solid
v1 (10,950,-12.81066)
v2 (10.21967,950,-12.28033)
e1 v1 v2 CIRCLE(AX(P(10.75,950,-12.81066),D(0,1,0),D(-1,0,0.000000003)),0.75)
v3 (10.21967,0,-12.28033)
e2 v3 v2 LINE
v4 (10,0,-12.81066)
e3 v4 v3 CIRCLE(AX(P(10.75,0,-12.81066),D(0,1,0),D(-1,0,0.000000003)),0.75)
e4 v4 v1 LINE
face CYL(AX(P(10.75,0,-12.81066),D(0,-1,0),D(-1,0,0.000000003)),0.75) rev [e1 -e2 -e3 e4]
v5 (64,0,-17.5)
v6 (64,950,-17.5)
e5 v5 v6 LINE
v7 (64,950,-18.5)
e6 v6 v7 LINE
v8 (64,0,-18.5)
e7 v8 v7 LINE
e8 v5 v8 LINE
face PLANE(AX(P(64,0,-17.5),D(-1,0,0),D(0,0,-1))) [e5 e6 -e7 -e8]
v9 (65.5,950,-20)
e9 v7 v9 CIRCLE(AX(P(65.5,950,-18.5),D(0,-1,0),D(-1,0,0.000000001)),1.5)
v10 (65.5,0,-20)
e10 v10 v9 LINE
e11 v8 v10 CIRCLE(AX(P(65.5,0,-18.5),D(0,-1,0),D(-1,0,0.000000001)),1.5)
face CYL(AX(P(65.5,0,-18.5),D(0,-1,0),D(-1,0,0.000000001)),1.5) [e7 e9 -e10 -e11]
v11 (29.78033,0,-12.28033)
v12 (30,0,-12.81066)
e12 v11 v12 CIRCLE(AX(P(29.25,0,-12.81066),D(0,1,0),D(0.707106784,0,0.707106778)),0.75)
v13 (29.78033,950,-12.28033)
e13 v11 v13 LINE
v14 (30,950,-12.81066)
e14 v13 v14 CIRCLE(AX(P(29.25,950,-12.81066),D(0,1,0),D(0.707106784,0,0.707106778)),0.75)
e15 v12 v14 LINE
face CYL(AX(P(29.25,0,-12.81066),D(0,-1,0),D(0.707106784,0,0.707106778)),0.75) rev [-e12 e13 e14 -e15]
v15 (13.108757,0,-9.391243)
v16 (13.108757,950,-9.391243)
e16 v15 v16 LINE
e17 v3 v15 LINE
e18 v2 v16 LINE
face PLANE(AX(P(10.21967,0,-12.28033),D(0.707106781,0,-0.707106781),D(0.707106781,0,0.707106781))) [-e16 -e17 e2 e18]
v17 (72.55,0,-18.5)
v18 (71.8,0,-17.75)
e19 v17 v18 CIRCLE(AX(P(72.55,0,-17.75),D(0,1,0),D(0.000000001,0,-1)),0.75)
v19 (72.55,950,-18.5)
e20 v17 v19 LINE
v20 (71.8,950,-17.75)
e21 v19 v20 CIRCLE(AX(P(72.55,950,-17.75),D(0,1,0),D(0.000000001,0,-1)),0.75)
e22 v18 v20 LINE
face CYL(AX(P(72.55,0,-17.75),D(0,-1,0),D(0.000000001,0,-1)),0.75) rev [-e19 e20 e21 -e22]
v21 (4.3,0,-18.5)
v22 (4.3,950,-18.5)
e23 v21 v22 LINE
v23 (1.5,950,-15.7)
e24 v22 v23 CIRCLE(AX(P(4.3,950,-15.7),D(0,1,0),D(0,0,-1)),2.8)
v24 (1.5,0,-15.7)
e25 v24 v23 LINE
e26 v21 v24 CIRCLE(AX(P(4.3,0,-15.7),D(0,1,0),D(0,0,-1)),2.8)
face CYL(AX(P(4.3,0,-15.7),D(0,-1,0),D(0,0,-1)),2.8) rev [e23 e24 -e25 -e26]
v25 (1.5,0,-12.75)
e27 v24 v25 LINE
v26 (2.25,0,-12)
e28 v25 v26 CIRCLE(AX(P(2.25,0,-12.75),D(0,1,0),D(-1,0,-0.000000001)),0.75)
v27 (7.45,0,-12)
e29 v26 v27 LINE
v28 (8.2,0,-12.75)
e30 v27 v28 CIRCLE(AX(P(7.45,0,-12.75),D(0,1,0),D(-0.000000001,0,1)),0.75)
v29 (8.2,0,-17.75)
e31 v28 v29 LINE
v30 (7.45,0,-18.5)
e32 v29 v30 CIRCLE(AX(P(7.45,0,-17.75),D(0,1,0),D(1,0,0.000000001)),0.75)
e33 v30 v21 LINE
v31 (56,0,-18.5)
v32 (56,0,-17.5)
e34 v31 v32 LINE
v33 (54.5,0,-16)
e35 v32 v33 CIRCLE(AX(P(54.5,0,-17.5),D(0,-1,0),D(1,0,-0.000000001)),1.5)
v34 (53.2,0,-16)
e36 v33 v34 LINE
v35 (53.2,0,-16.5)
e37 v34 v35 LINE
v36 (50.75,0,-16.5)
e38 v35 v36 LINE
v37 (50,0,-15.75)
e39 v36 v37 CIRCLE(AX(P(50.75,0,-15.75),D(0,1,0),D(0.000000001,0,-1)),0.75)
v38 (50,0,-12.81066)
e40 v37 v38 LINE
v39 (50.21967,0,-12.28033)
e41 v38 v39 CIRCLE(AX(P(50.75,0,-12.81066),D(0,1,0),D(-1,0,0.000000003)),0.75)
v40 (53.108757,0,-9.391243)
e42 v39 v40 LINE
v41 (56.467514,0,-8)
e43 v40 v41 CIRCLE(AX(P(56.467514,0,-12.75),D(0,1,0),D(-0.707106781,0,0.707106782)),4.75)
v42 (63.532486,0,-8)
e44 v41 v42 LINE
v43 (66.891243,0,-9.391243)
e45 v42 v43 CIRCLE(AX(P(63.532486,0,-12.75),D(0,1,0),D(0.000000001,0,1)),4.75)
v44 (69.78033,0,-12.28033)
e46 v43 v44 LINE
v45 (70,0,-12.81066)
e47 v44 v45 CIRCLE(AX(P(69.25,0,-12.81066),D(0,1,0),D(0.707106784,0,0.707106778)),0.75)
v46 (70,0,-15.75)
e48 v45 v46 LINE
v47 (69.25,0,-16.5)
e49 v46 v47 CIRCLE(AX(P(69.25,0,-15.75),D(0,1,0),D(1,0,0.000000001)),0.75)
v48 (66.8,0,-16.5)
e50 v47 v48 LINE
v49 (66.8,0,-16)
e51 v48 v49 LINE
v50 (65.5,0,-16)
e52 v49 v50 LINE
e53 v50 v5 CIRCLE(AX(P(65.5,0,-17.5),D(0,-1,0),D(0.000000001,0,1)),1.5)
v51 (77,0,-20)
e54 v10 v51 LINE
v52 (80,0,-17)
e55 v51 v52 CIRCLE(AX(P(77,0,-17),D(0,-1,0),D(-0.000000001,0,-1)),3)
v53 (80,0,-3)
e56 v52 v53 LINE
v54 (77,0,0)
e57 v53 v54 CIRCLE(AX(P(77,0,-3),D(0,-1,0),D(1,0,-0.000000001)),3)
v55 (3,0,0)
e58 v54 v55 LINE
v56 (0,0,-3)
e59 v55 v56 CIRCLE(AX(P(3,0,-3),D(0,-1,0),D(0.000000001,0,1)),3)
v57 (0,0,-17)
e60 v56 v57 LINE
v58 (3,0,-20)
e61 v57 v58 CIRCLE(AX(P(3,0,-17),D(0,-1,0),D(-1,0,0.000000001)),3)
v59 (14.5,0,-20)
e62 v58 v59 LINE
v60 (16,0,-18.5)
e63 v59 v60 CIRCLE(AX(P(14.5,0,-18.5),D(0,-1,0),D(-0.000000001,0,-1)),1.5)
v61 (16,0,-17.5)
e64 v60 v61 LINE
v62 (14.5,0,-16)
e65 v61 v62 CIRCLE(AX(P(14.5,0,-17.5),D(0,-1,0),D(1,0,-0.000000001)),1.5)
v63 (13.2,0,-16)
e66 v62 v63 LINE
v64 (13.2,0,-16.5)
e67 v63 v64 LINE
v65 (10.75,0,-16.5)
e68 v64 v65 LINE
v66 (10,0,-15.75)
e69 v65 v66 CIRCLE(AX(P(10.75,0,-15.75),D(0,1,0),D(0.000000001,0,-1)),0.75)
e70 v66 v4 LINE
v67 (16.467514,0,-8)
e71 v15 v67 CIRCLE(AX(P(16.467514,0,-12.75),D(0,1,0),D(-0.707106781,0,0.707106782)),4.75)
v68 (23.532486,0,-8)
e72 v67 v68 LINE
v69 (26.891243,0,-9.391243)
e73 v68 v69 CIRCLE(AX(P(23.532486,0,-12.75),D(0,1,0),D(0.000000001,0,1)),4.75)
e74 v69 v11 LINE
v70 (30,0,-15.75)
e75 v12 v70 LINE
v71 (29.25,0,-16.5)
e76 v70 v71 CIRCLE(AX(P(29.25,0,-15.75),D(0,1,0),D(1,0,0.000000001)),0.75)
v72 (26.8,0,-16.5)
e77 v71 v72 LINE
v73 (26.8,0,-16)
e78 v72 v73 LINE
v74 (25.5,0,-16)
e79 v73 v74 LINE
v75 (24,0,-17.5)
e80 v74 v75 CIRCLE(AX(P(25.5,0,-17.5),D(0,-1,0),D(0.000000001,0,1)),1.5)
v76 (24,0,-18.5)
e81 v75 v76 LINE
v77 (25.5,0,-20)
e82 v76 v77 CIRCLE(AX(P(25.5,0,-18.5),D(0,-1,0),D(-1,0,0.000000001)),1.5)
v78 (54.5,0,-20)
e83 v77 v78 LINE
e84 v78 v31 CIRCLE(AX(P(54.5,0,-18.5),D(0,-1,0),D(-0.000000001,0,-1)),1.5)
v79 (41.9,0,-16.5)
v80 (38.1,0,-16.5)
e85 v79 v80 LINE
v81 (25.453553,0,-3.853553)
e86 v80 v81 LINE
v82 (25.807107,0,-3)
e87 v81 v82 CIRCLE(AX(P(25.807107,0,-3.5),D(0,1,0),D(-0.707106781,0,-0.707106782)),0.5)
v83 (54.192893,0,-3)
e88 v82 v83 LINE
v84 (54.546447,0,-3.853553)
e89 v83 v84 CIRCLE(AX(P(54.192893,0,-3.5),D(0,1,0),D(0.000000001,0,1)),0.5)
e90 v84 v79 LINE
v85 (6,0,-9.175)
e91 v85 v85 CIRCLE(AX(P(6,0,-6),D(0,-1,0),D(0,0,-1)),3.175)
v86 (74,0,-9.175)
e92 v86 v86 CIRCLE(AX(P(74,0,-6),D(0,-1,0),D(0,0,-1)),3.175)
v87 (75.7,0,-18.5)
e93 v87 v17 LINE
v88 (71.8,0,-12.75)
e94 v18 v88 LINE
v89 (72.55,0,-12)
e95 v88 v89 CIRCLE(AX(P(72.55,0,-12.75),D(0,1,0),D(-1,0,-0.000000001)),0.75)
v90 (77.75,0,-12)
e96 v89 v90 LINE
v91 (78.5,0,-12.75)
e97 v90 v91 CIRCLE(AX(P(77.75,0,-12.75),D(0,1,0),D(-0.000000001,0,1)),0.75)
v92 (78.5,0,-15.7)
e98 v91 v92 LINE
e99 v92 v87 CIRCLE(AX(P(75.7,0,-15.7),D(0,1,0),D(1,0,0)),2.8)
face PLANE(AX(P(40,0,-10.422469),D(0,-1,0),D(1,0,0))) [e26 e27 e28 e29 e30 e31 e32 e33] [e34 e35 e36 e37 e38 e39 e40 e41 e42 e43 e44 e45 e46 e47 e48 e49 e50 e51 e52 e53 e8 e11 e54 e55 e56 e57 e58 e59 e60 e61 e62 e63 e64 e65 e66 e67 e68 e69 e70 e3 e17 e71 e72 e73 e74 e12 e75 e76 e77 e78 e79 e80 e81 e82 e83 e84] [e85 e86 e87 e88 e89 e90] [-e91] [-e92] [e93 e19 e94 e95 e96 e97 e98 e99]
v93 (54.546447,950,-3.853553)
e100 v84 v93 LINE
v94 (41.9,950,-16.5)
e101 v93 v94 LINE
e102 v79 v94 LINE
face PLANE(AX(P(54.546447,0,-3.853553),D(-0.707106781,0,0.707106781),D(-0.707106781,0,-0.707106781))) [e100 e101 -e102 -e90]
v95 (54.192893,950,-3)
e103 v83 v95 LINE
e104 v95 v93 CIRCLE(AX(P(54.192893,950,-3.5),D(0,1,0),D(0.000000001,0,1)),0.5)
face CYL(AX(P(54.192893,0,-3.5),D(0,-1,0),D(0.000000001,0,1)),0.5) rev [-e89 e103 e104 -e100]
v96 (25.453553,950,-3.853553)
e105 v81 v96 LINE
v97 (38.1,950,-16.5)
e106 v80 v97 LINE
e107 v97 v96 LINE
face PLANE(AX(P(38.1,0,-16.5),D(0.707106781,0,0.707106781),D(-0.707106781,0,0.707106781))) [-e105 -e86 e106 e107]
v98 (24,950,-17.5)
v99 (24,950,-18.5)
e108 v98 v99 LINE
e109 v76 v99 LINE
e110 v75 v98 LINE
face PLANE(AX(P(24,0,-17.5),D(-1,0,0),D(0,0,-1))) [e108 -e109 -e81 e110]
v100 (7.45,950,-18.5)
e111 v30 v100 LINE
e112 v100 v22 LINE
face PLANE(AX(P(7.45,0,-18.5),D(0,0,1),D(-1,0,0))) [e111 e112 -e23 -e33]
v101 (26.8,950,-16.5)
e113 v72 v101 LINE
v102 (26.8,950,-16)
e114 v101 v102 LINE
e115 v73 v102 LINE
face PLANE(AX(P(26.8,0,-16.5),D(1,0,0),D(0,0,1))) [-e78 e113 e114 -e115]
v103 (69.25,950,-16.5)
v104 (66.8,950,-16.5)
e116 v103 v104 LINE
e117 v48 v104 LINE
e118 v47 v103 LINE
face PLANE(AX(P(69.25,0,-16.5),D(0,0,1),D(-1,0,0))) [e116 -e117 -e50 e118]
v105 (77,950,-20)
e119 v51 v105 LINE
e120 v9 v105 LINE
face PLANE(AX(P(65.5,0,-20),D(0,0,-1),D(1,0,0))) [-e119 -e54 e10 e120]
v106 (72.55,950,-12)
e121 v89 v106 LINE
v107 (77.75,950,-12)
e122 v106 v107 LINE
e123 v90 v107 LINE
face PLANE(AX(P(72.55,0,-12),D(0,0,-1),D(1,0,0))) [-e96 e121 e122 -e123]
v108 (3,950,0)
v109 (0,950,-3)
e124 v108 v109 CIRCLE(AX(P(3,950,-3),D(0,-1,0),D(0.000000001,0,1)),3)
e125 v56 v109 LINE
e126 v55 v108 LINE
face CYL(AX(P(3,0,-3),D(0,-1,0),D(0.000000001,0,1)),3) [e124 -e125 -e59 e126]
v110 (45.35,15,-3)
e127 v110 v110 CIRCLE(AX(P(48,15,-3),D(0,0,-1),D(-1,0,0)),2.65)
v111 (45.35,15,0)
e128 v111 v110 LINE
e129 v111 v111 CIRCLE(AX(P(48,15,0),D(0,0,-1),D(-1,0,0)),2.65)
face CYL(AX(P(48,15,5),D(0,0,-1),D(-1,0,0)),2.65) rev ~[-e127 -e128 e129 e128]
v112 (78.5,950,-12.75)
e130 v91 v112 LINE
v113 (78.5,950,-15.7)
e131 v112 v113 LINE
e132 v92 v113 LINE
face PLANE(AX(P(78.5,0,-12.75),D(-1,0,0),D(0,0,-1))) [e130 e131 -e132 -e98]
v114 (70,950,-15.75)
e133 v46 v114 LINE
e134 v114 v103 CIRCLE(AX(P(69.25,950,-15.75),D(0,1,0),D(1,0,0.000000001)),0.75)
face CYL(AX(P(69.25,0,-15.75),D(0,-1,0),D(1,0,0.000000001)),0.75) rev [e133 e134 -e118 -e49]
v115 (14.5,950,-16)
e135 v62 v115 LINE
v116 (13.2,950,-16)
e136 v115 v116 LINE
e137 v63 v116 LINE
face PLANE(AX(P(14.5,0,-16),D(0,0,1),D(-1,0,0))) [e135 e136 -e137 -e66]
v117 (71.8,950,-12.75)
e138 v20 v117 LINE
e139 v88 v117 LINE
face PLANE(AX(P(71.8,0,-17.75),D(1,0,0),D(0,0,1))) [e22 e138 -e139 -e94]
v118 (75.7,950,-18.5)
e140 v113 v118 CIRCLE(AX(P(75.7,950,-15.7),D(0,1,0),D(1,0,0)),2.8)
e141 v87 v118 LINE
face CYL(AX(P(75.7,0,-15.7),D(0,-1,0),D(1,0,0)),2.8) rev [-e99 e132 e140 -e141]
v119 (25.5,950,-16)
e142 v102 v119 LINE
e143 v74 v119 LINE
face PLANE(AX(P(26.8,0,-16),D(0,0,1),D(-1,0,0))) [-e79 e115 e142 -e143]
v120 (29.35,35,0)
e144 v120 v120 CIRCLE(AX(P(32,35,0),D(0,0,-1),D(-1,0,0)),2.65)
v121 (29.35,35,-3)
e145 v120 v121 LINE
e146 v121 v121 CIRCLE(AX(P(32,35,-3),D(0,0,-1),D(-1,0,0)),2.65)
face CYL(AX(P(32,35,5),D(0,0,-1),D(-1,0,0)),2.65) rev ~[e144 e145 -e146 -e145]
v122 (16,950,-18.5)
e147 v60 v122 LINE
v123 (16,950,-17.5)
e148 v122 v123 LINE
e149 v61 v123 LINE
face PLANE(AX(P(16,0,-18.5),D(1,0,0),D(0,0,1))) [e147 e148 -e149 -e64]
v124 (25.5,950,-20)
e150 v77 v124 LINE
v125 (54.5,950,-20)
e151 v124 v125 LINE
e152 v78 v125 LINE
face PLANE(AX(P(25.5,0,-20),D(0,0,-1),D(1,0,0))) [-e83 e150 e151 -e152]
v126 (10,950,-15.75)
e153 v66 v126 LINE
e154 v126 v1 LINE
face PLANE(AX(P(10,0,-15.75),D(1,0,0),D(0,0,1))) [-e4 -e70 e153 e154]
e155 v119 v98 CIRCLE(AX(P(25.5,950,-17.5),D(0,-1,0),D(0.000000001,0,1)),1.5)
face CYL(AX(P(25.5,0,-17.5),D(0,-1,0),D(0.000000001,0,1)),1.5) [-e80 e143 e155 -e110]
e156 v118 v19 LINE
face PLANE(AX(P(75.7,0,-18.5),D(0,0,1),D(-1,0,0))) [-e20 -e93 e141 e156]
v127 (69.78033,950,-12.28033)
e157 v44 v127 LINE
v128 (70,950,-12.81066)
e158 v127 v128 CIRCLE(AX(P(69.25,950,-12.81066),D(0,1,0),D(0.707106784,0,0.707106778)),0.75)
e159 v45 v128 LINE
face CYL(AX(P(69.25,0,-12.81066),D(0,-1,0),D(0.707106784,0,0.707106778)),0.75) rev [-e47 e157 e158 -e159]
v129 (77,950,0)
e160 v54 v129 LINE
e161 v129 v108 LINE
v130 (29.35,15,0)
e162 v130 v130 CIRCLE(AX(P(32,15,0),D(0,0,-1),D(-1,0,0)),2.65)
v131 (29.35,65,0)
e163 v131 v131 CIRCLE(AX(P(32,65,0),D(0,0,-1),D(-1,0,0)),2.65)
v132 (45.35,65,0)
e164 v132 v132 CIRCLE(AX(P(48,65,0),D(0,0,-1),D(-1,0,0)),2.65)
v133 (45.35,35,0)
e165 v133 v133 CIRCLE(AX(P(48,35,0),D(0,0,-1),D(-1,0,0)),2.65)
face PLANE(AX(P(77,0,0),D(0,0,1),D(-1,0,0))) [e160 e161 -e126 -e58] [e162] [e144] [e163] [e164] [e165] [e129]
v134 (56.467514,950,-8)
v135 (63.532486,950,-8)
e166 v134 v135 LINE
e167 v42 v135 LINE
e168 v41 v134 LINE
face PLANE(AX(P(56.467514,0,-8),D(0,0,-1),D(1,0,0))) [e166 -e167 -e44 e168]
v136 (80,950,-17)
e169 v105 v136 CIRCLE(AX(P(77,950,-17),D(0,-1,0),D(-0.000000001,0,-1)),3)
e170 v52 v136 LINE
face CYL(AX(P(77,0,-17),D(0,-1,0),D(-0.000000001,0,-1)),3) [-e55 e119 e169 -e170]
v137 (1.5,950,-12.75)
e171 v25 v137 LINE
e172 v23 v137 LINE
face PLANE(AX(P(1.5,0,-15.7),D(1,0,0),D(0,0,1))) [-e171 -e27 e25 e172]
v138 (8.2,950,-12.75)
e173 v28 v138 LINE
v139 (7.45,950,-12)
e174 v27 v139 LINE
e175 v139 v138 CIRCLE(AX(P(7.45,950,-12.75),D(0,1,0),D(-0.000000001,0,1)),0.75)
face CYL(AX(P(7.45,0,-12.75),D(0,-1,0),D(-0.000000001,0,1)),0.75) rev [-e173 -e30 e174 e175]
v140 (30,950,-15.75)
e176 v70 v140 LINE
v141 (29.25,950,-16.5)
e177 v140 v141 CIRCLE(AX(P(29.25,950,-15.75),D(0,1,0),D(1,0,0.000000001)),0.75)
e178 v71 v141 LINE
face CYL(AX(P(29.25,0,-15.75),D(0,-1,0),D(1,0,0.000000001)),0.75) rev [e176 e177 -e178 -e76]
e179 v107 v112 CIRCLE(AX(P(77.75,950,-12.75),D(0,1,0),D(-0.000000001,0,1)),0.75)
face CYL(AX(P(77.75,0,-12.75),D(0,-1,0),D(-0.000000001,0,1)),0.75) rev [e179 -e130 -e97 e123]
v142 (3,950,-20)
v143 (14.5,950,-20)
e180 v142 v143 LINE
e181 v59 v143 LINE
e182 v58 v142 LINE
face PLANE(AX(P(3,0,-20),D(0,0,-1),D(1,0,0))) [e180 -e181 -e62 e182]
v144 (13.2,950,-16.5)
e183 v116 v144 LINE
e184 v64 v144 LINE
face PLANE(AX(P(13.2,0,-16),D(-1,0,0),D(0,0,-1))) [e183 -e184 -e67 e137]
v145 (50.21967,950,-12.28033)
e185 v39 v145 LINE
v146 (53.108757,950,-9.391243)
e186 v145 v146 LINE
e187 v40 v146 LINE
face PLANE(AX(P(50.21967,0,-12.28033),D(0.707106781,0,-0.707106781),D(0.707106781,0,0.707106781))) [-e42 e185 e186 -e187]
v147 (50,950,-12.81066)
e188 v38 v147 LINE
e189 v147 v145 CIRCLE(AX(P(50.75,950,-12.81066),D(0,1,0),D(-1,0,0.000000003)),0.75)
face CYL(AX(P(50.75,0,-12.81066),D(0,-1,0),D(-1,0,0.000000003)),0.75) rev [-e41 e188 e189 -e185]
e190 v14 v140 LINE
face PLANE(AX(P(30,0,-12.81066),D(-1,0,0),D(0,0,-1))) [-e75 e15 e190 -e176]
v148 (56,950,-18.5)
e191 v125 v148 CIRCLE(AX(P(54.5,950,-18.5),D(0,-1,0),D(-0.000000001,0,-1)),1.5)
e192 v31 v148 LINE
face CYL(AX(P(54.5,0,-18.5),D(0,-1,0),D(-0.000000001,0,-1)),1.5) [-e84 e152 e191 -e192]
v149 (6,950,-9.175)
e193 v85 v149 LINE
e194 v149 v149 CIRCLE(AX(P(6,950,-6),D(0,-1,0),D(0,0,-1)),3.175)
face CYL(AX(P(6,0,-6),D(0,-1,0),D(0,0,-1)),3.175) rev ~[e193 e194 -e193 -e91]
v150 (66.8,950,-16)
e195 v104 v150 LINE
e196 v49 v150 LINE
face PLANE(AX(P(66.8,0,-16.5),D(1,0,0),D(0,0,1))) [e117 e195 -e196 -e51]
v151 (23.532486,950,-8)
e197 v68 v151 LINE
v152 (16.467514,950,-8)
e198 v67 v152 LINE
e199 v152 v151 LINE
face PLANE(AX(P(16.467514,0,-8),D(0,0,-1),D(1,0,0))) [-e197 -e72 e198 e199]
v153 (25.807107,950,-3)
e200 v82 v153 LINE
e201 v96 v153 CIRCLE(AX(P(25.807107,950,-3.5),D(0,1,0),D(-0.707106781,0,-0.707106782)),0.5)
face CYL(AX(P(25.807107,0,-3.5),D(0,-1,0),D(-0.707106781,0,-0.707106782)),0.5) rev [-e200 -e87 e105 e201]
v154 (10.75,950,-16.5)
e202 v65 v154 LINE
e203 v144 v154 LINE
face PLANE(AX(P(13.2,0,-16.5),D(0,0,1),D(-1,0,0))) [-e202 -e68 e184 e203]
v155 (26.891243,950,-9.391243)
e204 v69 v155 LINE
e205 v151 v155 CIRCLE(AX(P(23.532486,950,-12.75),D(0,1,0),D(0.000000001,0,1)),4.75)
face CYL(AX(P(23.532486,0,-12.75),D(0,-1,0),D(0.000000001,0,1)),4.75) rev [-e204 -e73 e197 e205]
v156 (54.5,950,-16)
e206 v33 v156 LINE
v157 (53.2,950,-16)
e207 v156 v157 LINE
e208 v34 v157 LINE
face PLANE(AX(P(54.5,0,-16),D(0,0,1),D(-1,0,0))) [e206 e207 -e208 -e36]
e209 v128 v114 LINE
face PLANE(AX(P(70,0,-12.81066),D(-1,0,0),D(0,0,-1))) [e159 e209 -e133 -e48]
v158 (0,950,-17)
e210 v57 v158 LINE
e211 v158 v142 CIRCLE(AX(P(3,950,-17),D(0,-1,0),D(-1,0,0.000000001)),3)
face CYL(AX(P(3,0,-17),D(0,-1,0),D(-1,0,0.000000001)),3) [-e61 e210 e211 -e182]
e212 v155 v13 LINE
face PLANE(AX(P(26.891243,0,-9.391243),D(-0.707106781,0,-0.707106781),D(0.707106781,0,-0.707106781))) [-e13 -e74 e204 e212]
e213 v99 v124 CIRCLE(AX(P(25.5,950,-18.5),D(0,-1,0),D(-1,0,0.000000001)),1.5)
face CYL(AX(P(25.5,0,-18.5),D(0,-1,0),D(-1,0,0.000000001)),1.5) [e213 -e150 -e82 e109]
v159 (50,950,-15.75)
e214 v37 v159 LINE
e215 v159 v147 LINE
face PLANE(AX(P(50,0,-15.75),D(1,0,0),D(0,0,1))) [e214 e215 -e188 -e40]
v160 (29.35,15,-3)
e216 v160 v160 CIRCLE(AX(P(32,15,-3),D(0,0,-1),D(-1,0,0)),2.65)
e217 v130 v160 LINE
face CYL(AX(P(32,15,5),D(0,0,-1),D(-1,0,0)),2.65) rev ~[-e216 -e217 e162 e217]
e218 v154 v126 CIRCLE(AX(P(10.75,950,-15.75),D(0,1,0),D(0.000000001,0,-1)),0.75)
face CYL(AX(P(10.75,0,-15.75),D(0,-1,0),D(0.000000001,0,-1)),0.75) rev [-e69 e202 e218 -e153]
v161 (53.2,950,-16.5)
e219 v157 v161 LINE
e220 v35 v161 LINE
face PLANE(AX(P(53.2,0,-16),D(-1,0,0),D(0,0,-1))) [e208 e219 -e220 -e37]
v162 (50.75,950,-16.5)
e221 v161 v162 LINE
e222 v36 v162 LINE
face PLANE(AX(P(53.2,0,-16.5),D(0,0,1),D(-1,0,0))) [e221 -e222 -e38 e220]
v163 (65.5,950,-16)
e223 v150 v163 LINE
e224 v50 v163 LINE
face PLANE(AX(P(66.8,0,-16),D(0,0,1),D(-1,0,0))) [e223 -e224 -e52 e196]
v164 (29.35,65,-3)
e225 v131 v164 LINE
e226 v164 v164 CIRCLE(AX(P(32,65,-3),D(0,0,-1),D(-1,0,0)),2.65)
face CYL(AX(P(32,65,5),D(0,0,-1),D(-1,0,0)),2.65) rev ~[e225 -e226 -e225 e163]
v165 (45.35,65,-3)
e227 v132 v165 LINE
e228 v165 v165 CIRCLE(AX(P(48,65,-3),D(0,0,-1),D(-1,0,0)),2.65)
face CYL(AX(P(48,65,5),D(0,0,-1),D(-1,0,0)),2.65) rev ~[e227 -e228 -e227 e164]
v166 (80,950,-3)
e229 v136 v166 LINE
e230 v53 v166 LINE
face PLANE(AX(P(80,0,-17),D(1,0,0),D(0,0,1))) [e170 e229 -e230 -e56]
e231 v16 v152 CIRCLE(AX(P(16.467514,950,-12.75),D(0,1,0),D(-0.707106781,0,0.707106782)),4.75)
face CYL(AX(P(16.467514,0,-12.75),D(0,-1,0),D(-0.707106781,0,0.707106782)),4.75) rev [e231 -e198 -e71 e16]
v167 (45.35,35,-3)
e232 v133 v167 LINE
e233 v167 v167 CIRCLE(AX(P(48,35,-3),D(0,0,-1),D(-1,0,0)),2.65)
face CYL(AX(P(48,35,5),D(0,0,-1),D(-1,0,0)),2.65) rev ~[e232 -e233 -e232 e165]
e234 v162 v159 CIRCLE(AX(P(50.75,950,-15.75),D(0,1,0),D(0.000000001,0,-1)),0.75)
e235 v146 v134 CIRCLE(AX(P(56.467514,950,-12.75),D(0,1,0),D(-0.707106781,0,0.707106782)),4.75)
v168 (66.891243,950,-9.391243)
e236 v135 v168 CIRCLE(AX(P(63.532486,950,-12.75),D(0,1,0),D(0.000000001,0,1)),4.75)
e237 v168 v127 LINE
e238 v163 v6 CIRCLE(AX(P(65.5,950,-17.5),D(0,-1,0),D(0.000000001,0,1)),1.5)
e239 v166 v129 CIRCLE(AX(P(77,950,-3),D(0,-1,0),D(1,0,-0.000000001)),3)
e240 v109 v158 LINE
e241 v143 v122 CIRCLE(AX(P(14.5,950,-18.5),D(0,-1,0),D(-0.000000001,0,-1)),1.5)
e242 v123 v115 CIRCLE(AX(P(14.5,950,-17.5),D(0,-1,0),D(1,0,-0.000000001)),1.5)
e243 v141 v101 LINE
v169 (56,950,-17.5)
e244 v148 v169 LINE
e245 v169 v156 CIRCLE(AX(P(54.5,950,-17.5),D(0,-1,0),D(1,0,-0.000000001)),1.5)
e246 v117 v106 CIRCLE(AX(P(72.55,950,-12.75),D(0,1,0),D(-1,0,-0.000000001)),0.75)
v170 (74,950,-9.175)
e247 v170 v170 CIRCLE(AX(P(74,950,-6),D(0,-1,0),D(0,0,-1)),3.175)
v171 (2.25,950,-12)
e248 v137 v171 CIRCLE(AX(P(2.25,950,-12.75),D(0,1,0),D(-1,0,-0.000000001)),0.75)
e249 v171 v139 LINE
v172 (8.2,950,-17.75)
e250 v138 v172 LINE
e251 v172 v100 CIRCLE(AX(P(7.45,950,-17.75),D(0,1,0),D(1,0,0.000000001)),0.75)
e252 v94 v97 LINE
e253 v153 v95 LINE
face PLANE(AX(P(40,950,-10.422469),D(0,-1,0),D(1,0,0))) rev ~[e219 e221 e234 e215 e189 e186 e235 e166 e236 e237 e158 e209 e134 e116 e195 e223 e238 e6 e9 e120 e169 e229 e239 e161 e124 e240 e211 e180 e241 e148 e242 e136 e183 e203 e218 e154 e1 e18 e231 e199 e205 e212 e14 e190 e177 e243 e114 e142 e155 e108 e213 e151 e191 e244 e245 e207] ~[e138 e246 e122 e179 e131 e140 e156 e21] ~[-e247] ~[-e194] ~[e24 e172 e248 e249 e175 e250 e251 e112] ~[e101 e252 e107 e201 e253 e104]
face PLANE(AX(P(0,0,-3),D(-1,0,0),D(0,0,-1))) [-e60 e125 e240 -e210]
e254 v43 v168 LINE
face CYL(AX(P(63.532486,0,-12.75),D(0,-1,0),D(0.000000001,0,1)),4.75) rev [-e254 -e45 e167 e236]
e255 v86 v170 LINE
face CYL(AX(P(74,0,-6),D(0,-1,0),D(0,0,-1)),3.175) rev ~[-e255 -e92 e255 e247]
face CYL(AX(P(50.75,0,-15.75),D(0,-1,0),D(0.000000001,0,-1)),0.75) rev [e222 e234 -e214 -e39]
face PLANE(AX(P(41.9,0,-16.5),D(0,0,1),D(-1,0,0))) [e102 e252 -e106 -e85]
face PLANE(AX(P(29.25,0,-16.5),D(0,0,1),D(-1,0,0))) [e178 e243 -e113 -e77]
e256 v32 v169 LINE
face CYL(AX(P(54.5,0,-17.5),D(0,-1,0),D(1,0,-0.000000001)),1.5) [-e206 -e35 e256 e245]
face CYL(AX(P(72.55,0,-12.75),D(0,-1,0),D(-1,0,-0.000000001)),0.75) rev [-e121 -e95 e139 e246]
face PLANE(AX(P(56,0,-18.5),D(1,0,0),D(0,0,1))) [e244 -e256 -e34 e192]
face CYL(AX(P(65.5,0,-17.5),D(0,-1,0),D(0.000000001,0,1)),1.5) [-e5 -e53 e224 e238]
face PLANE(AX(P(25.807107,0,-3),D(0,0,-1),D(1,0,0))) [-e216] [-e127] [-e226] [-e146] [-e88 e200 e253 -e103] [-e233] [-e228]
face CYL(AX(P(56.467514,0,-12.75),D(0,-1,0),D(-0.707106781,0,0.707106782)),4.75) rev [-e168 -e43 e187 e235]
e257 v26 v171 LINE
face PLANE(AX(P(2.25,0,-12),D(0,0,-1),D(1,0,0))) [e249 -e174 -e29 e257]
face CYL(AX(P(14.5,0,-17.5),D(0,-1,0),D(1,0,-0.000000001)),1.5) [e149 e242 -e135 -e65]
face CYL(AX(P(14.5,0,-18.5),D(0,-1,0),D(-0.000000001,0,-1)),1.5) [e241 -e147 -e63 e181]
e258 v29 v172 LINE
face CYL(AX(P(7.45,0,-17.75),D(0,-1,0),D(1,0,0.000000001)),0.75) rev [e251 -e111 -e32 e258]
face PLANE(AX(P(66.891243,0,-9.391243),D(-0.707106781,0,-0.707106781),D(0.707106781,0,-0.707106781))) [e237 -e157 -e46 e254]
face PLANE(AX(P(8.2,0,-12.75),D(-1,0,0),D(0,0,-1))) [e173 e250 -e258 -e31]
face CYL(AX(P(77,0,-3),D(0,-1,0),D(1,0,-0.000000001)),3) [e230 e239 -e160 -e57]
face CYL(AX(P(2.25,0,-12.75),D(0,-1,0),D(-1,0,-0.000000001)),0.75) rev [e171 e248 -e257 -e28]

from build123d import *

# Parameters (mm, degrees)
SKETCH1_R                = 3.175
BOSS_EXTRUDE1_DEPTH      = 950
M5_CLEARANCE_HOLE1_D     = 5.3
M5_CLEARANCE_HOLE1_DEPTH = 5
M5_CLEARANCE_HOLE1_TIP   = 1.59228064


with BuildPart() as part:
    # Sketch1 → Boss-Extrude1 (new body)
    with BuildSketch(Plane.XZ):
        with BuildLine():
            Line((77, 0), (3, 0))
            ThreePointArc((3, 0), (0.878679656, -0.878679656), (0, -3))
            Line((0, -3), (0, -17))
            ThreePointArc((0, -17), (0.878679656, -19.121320344), (3, -20))
            Line((3, -20), (14.5, -20))
            ThreePointArc((14.5, -20), (15.560660172, -19.560660172), (16, -18.5))
            Line((16, -18.5), (16, -17.5))
            ThreePointArc((16, -17.5), (15.560660172, -16.439339828), (14.5, -16))
            Line((14.5, -16), (13.2, -16))
            Line((13.2, -16), (13.2, -16.5))
            Line((13.2, -16.5), (10.75, -16.5))
            ThreePointArc((10.75, -16.5), (10.219669914, -16.280330086), (10, -15.75))
            Line((10, -15.75), (10, -12.810660172))
            ThreePointArc((10, -12.810660172), (10.057090351, -12.523647598), (10.219669914, -12.280330086))
            Line((10.219669914, -12.280330086), (13.108757211, -9.391242789))
            ThreePointArc((13.108757211, -9.391242789), (14.649768118, -8.361572221), (16.467514421, -8))
            Line((16.467514421, -8), (23.532485579, -8))
            ThreePointArc((23.532485579, -8), (25.350231882, -8.361572221), (26.891242789, -9.391242789))
            Line((26.891242789, -9.391242789), (29.780330086, -12.280330086))
            ThreePointArc((29.780330086, -12.280330086), (29.942909649, -12.523647598), (30, -12.810660172))
            Line((30, -12.810660172), (30, -15.75))
            ThreePointArc((30, -15.75), (29.780330086, -16.280330086), (29.25, -16.5))
            Line((29.25, -16.5), (26.8, -16.5))
            Line((26.8, -16.5), (26.8, -16))
            Line((26.8, -16), (25.5, -16))
            ThreePointArc((25.5, -16), (24.439339828, -16.439339828), (24, -17.5))
            Line((24, -17.5), (24, -18.5))
            ThreePointArc((24, -18.5), (24.439339828, -19.560660172), (25.5, -20))
            Line((25.5, -20), (54.5, -20))
            ThreePointArc((54.5, -20), (55.560660172, -19.560660172), (56, -18.5))
            Line((56, -18.5), (56, -17.5))
            ThreePointArc((56, -17.5), (55.560660172, -16.439339828), (54.5, -16))
            Line((54.5, -16), (53.2, -16))
            Line((53.2, -16), (53.2, -16.5))
            Line((53.2, -16.5), (50.75, -16.5))
            ThreePointArc((50.75, -16.5), (50.219669914, -16.280330086), (50, -15.75))
            Line((50, -15.75), (50, -12.810660172))
            ThreePointArc((50, -12.810660172), (50.057090351, -12.523647598), (50.219669914, -12.280330086))
            Line((50.219669914, -12.280330086), (53.108757211, -9.391242789))
            ThreePointArc((53.108757211, -9.391242789), (54.649768118, -8.361572221), (56.467514421, -8))
            Line((56.467514421, -8), (63.532485579, -8))
            ThreePointArc((63.532485579, -8), (65.350231882, -8.361572221), (66.891242789, -9.391242789))
            Line((66.891242789, -9.391242789), (69.780330086, -12.280330086))
            ThreePointArc((69.780330086, -12.280330086), (69.942909649, -12.523647598), (70, -12.810660172))
            Line((70, -12.810660172), (70, -15.75))
            ThreePointArc((70, -15.75), (69.780330086, -16.280330086), (69.25, -16.5))
            Line((69.25, -16.5), (66.8, -16.5))
            Line((66.8, -16.5), (66.8, -16))
            Line((66.8, -16), (65.5, -16))
            ThreePointArc((65.5, -16), (64.439339828, -16.439339828), (64, -17.5))
            Line((64, -17.5), (64, -18.5))
            ThreePointArc((64, -18.5), (64.439339828, -19.560660172), (65.5, -20))
            Line((65.5, -20), (77, -20))
            ThreePointArc((77, -20), (79.121320344, -19.121320344), (80, -17))
            Line((80, -17), (80, -3))
            ThreePointArc((80, -3), (79.121320344, -0.878679656), (77, 0))
        make_face()
        with Locations(Location((6, -6, 0), (0, 0, 270))):
            Circle(SKETCH1_R, mode=Mode.SUBTRACT)
        with Locations(Location((74, -6, 0), (0, 0, 270))):
            Circle(SKETCH1_R, mode=Mode.SUBTRACT)
        with BuildLine():
            Line((7.45, -18.5), (4.3, -18.5))
            ThreePointArc((4.3, -18.5), (2.320101013, -17.679898987), (1.5, -15.7))
            Line((1.5, -15.7), (1.5, -12.75))
            ThreePointArc((1.5, -12.75), (1.719669914, -12.219669914), (2.25, -12))
            Line((2.25, -12), (7.45, -12))
            ThreePointArc((7.45, -12), (7.980330086, -12.219669914), (8.2, -12.75))
            Line((8.2, -12.75), (8.2, -17.75))
            ThreePointArc((8.2, -17.75), (7.980330086, -18.280330086), (7.45, -18.5))
        make_face(mode=Mode.SUBTRACT)
        with BuildLine():
            Line((54.546446609, -3.853553391), (41.9, -16.5))
            Line((41.9, -16.5), (38.1, -16.5))
            Line((38.1, -16.5), (25.453553391, -3.853553391))
            ThreePointArc((25.453553391, -3.853553391), (25.345167015, -3.308658284), (25.807106781, -3))
            Line((25.807106781, -3), (54.192893219, -3))
            ThreePointArc((54.192893219, -3), (54.654832985, -3.308658284), (54.546446609, -3.853553391))
        make_face(mode=Mode.SUBTRACT)
        with BuildLine():
            Line((71.8, -17.75), (71.8, -12.75))
            ThreePointArc((71.8, -12.75), (72.019669914, -12.219669914), (72.55, -12))
            Line((72.55, -12), (77.75, -12))
            ThreePointArc((77.75, -12), (78.280330086, -12.219669914), (78.5, -12.75))
            Line((78.5, -12.75), (78.5, -15.7))
            ThreePointArc((78.5, -15.7), (77.679898987, -17.679898987), (75.7, -18.5))
            Line((75.7, -18.5), (72.55, -18.5))
            ThreePointArc((72.55, -18.5), (72.019669914, -18.280330086), (71.8, -17.75))
        make_face(mode=Mode.SUBTRACT)
    extrude(amount=-BOSS_EXTRUDE1_DEPTH)

    # M5 Clearance Hole1
    with Locations(Plane.XY):
        with Locations((48, 15), (48, 35), (48, 65), (32, 65), (32, 35), (32, 15)):
            Hole(M5_CLEARANCE_HOLE1_D / 2, depth=M5_CLEARANCE_HOLE1_DEPTH)
            with Locations((0, 0, -(M5_CLEARANCE_HOLE1_DEPTH + M5_CLEARANCE_HOLE1_TIP / 2))):  # 118° drill point
                Cone(0, M5_CLEARANCE_HOLE1_D / 2, M5_CLEARANCE_HOLE1_TIP, mode=Mode.SUBTRACT)


solid = part.part
